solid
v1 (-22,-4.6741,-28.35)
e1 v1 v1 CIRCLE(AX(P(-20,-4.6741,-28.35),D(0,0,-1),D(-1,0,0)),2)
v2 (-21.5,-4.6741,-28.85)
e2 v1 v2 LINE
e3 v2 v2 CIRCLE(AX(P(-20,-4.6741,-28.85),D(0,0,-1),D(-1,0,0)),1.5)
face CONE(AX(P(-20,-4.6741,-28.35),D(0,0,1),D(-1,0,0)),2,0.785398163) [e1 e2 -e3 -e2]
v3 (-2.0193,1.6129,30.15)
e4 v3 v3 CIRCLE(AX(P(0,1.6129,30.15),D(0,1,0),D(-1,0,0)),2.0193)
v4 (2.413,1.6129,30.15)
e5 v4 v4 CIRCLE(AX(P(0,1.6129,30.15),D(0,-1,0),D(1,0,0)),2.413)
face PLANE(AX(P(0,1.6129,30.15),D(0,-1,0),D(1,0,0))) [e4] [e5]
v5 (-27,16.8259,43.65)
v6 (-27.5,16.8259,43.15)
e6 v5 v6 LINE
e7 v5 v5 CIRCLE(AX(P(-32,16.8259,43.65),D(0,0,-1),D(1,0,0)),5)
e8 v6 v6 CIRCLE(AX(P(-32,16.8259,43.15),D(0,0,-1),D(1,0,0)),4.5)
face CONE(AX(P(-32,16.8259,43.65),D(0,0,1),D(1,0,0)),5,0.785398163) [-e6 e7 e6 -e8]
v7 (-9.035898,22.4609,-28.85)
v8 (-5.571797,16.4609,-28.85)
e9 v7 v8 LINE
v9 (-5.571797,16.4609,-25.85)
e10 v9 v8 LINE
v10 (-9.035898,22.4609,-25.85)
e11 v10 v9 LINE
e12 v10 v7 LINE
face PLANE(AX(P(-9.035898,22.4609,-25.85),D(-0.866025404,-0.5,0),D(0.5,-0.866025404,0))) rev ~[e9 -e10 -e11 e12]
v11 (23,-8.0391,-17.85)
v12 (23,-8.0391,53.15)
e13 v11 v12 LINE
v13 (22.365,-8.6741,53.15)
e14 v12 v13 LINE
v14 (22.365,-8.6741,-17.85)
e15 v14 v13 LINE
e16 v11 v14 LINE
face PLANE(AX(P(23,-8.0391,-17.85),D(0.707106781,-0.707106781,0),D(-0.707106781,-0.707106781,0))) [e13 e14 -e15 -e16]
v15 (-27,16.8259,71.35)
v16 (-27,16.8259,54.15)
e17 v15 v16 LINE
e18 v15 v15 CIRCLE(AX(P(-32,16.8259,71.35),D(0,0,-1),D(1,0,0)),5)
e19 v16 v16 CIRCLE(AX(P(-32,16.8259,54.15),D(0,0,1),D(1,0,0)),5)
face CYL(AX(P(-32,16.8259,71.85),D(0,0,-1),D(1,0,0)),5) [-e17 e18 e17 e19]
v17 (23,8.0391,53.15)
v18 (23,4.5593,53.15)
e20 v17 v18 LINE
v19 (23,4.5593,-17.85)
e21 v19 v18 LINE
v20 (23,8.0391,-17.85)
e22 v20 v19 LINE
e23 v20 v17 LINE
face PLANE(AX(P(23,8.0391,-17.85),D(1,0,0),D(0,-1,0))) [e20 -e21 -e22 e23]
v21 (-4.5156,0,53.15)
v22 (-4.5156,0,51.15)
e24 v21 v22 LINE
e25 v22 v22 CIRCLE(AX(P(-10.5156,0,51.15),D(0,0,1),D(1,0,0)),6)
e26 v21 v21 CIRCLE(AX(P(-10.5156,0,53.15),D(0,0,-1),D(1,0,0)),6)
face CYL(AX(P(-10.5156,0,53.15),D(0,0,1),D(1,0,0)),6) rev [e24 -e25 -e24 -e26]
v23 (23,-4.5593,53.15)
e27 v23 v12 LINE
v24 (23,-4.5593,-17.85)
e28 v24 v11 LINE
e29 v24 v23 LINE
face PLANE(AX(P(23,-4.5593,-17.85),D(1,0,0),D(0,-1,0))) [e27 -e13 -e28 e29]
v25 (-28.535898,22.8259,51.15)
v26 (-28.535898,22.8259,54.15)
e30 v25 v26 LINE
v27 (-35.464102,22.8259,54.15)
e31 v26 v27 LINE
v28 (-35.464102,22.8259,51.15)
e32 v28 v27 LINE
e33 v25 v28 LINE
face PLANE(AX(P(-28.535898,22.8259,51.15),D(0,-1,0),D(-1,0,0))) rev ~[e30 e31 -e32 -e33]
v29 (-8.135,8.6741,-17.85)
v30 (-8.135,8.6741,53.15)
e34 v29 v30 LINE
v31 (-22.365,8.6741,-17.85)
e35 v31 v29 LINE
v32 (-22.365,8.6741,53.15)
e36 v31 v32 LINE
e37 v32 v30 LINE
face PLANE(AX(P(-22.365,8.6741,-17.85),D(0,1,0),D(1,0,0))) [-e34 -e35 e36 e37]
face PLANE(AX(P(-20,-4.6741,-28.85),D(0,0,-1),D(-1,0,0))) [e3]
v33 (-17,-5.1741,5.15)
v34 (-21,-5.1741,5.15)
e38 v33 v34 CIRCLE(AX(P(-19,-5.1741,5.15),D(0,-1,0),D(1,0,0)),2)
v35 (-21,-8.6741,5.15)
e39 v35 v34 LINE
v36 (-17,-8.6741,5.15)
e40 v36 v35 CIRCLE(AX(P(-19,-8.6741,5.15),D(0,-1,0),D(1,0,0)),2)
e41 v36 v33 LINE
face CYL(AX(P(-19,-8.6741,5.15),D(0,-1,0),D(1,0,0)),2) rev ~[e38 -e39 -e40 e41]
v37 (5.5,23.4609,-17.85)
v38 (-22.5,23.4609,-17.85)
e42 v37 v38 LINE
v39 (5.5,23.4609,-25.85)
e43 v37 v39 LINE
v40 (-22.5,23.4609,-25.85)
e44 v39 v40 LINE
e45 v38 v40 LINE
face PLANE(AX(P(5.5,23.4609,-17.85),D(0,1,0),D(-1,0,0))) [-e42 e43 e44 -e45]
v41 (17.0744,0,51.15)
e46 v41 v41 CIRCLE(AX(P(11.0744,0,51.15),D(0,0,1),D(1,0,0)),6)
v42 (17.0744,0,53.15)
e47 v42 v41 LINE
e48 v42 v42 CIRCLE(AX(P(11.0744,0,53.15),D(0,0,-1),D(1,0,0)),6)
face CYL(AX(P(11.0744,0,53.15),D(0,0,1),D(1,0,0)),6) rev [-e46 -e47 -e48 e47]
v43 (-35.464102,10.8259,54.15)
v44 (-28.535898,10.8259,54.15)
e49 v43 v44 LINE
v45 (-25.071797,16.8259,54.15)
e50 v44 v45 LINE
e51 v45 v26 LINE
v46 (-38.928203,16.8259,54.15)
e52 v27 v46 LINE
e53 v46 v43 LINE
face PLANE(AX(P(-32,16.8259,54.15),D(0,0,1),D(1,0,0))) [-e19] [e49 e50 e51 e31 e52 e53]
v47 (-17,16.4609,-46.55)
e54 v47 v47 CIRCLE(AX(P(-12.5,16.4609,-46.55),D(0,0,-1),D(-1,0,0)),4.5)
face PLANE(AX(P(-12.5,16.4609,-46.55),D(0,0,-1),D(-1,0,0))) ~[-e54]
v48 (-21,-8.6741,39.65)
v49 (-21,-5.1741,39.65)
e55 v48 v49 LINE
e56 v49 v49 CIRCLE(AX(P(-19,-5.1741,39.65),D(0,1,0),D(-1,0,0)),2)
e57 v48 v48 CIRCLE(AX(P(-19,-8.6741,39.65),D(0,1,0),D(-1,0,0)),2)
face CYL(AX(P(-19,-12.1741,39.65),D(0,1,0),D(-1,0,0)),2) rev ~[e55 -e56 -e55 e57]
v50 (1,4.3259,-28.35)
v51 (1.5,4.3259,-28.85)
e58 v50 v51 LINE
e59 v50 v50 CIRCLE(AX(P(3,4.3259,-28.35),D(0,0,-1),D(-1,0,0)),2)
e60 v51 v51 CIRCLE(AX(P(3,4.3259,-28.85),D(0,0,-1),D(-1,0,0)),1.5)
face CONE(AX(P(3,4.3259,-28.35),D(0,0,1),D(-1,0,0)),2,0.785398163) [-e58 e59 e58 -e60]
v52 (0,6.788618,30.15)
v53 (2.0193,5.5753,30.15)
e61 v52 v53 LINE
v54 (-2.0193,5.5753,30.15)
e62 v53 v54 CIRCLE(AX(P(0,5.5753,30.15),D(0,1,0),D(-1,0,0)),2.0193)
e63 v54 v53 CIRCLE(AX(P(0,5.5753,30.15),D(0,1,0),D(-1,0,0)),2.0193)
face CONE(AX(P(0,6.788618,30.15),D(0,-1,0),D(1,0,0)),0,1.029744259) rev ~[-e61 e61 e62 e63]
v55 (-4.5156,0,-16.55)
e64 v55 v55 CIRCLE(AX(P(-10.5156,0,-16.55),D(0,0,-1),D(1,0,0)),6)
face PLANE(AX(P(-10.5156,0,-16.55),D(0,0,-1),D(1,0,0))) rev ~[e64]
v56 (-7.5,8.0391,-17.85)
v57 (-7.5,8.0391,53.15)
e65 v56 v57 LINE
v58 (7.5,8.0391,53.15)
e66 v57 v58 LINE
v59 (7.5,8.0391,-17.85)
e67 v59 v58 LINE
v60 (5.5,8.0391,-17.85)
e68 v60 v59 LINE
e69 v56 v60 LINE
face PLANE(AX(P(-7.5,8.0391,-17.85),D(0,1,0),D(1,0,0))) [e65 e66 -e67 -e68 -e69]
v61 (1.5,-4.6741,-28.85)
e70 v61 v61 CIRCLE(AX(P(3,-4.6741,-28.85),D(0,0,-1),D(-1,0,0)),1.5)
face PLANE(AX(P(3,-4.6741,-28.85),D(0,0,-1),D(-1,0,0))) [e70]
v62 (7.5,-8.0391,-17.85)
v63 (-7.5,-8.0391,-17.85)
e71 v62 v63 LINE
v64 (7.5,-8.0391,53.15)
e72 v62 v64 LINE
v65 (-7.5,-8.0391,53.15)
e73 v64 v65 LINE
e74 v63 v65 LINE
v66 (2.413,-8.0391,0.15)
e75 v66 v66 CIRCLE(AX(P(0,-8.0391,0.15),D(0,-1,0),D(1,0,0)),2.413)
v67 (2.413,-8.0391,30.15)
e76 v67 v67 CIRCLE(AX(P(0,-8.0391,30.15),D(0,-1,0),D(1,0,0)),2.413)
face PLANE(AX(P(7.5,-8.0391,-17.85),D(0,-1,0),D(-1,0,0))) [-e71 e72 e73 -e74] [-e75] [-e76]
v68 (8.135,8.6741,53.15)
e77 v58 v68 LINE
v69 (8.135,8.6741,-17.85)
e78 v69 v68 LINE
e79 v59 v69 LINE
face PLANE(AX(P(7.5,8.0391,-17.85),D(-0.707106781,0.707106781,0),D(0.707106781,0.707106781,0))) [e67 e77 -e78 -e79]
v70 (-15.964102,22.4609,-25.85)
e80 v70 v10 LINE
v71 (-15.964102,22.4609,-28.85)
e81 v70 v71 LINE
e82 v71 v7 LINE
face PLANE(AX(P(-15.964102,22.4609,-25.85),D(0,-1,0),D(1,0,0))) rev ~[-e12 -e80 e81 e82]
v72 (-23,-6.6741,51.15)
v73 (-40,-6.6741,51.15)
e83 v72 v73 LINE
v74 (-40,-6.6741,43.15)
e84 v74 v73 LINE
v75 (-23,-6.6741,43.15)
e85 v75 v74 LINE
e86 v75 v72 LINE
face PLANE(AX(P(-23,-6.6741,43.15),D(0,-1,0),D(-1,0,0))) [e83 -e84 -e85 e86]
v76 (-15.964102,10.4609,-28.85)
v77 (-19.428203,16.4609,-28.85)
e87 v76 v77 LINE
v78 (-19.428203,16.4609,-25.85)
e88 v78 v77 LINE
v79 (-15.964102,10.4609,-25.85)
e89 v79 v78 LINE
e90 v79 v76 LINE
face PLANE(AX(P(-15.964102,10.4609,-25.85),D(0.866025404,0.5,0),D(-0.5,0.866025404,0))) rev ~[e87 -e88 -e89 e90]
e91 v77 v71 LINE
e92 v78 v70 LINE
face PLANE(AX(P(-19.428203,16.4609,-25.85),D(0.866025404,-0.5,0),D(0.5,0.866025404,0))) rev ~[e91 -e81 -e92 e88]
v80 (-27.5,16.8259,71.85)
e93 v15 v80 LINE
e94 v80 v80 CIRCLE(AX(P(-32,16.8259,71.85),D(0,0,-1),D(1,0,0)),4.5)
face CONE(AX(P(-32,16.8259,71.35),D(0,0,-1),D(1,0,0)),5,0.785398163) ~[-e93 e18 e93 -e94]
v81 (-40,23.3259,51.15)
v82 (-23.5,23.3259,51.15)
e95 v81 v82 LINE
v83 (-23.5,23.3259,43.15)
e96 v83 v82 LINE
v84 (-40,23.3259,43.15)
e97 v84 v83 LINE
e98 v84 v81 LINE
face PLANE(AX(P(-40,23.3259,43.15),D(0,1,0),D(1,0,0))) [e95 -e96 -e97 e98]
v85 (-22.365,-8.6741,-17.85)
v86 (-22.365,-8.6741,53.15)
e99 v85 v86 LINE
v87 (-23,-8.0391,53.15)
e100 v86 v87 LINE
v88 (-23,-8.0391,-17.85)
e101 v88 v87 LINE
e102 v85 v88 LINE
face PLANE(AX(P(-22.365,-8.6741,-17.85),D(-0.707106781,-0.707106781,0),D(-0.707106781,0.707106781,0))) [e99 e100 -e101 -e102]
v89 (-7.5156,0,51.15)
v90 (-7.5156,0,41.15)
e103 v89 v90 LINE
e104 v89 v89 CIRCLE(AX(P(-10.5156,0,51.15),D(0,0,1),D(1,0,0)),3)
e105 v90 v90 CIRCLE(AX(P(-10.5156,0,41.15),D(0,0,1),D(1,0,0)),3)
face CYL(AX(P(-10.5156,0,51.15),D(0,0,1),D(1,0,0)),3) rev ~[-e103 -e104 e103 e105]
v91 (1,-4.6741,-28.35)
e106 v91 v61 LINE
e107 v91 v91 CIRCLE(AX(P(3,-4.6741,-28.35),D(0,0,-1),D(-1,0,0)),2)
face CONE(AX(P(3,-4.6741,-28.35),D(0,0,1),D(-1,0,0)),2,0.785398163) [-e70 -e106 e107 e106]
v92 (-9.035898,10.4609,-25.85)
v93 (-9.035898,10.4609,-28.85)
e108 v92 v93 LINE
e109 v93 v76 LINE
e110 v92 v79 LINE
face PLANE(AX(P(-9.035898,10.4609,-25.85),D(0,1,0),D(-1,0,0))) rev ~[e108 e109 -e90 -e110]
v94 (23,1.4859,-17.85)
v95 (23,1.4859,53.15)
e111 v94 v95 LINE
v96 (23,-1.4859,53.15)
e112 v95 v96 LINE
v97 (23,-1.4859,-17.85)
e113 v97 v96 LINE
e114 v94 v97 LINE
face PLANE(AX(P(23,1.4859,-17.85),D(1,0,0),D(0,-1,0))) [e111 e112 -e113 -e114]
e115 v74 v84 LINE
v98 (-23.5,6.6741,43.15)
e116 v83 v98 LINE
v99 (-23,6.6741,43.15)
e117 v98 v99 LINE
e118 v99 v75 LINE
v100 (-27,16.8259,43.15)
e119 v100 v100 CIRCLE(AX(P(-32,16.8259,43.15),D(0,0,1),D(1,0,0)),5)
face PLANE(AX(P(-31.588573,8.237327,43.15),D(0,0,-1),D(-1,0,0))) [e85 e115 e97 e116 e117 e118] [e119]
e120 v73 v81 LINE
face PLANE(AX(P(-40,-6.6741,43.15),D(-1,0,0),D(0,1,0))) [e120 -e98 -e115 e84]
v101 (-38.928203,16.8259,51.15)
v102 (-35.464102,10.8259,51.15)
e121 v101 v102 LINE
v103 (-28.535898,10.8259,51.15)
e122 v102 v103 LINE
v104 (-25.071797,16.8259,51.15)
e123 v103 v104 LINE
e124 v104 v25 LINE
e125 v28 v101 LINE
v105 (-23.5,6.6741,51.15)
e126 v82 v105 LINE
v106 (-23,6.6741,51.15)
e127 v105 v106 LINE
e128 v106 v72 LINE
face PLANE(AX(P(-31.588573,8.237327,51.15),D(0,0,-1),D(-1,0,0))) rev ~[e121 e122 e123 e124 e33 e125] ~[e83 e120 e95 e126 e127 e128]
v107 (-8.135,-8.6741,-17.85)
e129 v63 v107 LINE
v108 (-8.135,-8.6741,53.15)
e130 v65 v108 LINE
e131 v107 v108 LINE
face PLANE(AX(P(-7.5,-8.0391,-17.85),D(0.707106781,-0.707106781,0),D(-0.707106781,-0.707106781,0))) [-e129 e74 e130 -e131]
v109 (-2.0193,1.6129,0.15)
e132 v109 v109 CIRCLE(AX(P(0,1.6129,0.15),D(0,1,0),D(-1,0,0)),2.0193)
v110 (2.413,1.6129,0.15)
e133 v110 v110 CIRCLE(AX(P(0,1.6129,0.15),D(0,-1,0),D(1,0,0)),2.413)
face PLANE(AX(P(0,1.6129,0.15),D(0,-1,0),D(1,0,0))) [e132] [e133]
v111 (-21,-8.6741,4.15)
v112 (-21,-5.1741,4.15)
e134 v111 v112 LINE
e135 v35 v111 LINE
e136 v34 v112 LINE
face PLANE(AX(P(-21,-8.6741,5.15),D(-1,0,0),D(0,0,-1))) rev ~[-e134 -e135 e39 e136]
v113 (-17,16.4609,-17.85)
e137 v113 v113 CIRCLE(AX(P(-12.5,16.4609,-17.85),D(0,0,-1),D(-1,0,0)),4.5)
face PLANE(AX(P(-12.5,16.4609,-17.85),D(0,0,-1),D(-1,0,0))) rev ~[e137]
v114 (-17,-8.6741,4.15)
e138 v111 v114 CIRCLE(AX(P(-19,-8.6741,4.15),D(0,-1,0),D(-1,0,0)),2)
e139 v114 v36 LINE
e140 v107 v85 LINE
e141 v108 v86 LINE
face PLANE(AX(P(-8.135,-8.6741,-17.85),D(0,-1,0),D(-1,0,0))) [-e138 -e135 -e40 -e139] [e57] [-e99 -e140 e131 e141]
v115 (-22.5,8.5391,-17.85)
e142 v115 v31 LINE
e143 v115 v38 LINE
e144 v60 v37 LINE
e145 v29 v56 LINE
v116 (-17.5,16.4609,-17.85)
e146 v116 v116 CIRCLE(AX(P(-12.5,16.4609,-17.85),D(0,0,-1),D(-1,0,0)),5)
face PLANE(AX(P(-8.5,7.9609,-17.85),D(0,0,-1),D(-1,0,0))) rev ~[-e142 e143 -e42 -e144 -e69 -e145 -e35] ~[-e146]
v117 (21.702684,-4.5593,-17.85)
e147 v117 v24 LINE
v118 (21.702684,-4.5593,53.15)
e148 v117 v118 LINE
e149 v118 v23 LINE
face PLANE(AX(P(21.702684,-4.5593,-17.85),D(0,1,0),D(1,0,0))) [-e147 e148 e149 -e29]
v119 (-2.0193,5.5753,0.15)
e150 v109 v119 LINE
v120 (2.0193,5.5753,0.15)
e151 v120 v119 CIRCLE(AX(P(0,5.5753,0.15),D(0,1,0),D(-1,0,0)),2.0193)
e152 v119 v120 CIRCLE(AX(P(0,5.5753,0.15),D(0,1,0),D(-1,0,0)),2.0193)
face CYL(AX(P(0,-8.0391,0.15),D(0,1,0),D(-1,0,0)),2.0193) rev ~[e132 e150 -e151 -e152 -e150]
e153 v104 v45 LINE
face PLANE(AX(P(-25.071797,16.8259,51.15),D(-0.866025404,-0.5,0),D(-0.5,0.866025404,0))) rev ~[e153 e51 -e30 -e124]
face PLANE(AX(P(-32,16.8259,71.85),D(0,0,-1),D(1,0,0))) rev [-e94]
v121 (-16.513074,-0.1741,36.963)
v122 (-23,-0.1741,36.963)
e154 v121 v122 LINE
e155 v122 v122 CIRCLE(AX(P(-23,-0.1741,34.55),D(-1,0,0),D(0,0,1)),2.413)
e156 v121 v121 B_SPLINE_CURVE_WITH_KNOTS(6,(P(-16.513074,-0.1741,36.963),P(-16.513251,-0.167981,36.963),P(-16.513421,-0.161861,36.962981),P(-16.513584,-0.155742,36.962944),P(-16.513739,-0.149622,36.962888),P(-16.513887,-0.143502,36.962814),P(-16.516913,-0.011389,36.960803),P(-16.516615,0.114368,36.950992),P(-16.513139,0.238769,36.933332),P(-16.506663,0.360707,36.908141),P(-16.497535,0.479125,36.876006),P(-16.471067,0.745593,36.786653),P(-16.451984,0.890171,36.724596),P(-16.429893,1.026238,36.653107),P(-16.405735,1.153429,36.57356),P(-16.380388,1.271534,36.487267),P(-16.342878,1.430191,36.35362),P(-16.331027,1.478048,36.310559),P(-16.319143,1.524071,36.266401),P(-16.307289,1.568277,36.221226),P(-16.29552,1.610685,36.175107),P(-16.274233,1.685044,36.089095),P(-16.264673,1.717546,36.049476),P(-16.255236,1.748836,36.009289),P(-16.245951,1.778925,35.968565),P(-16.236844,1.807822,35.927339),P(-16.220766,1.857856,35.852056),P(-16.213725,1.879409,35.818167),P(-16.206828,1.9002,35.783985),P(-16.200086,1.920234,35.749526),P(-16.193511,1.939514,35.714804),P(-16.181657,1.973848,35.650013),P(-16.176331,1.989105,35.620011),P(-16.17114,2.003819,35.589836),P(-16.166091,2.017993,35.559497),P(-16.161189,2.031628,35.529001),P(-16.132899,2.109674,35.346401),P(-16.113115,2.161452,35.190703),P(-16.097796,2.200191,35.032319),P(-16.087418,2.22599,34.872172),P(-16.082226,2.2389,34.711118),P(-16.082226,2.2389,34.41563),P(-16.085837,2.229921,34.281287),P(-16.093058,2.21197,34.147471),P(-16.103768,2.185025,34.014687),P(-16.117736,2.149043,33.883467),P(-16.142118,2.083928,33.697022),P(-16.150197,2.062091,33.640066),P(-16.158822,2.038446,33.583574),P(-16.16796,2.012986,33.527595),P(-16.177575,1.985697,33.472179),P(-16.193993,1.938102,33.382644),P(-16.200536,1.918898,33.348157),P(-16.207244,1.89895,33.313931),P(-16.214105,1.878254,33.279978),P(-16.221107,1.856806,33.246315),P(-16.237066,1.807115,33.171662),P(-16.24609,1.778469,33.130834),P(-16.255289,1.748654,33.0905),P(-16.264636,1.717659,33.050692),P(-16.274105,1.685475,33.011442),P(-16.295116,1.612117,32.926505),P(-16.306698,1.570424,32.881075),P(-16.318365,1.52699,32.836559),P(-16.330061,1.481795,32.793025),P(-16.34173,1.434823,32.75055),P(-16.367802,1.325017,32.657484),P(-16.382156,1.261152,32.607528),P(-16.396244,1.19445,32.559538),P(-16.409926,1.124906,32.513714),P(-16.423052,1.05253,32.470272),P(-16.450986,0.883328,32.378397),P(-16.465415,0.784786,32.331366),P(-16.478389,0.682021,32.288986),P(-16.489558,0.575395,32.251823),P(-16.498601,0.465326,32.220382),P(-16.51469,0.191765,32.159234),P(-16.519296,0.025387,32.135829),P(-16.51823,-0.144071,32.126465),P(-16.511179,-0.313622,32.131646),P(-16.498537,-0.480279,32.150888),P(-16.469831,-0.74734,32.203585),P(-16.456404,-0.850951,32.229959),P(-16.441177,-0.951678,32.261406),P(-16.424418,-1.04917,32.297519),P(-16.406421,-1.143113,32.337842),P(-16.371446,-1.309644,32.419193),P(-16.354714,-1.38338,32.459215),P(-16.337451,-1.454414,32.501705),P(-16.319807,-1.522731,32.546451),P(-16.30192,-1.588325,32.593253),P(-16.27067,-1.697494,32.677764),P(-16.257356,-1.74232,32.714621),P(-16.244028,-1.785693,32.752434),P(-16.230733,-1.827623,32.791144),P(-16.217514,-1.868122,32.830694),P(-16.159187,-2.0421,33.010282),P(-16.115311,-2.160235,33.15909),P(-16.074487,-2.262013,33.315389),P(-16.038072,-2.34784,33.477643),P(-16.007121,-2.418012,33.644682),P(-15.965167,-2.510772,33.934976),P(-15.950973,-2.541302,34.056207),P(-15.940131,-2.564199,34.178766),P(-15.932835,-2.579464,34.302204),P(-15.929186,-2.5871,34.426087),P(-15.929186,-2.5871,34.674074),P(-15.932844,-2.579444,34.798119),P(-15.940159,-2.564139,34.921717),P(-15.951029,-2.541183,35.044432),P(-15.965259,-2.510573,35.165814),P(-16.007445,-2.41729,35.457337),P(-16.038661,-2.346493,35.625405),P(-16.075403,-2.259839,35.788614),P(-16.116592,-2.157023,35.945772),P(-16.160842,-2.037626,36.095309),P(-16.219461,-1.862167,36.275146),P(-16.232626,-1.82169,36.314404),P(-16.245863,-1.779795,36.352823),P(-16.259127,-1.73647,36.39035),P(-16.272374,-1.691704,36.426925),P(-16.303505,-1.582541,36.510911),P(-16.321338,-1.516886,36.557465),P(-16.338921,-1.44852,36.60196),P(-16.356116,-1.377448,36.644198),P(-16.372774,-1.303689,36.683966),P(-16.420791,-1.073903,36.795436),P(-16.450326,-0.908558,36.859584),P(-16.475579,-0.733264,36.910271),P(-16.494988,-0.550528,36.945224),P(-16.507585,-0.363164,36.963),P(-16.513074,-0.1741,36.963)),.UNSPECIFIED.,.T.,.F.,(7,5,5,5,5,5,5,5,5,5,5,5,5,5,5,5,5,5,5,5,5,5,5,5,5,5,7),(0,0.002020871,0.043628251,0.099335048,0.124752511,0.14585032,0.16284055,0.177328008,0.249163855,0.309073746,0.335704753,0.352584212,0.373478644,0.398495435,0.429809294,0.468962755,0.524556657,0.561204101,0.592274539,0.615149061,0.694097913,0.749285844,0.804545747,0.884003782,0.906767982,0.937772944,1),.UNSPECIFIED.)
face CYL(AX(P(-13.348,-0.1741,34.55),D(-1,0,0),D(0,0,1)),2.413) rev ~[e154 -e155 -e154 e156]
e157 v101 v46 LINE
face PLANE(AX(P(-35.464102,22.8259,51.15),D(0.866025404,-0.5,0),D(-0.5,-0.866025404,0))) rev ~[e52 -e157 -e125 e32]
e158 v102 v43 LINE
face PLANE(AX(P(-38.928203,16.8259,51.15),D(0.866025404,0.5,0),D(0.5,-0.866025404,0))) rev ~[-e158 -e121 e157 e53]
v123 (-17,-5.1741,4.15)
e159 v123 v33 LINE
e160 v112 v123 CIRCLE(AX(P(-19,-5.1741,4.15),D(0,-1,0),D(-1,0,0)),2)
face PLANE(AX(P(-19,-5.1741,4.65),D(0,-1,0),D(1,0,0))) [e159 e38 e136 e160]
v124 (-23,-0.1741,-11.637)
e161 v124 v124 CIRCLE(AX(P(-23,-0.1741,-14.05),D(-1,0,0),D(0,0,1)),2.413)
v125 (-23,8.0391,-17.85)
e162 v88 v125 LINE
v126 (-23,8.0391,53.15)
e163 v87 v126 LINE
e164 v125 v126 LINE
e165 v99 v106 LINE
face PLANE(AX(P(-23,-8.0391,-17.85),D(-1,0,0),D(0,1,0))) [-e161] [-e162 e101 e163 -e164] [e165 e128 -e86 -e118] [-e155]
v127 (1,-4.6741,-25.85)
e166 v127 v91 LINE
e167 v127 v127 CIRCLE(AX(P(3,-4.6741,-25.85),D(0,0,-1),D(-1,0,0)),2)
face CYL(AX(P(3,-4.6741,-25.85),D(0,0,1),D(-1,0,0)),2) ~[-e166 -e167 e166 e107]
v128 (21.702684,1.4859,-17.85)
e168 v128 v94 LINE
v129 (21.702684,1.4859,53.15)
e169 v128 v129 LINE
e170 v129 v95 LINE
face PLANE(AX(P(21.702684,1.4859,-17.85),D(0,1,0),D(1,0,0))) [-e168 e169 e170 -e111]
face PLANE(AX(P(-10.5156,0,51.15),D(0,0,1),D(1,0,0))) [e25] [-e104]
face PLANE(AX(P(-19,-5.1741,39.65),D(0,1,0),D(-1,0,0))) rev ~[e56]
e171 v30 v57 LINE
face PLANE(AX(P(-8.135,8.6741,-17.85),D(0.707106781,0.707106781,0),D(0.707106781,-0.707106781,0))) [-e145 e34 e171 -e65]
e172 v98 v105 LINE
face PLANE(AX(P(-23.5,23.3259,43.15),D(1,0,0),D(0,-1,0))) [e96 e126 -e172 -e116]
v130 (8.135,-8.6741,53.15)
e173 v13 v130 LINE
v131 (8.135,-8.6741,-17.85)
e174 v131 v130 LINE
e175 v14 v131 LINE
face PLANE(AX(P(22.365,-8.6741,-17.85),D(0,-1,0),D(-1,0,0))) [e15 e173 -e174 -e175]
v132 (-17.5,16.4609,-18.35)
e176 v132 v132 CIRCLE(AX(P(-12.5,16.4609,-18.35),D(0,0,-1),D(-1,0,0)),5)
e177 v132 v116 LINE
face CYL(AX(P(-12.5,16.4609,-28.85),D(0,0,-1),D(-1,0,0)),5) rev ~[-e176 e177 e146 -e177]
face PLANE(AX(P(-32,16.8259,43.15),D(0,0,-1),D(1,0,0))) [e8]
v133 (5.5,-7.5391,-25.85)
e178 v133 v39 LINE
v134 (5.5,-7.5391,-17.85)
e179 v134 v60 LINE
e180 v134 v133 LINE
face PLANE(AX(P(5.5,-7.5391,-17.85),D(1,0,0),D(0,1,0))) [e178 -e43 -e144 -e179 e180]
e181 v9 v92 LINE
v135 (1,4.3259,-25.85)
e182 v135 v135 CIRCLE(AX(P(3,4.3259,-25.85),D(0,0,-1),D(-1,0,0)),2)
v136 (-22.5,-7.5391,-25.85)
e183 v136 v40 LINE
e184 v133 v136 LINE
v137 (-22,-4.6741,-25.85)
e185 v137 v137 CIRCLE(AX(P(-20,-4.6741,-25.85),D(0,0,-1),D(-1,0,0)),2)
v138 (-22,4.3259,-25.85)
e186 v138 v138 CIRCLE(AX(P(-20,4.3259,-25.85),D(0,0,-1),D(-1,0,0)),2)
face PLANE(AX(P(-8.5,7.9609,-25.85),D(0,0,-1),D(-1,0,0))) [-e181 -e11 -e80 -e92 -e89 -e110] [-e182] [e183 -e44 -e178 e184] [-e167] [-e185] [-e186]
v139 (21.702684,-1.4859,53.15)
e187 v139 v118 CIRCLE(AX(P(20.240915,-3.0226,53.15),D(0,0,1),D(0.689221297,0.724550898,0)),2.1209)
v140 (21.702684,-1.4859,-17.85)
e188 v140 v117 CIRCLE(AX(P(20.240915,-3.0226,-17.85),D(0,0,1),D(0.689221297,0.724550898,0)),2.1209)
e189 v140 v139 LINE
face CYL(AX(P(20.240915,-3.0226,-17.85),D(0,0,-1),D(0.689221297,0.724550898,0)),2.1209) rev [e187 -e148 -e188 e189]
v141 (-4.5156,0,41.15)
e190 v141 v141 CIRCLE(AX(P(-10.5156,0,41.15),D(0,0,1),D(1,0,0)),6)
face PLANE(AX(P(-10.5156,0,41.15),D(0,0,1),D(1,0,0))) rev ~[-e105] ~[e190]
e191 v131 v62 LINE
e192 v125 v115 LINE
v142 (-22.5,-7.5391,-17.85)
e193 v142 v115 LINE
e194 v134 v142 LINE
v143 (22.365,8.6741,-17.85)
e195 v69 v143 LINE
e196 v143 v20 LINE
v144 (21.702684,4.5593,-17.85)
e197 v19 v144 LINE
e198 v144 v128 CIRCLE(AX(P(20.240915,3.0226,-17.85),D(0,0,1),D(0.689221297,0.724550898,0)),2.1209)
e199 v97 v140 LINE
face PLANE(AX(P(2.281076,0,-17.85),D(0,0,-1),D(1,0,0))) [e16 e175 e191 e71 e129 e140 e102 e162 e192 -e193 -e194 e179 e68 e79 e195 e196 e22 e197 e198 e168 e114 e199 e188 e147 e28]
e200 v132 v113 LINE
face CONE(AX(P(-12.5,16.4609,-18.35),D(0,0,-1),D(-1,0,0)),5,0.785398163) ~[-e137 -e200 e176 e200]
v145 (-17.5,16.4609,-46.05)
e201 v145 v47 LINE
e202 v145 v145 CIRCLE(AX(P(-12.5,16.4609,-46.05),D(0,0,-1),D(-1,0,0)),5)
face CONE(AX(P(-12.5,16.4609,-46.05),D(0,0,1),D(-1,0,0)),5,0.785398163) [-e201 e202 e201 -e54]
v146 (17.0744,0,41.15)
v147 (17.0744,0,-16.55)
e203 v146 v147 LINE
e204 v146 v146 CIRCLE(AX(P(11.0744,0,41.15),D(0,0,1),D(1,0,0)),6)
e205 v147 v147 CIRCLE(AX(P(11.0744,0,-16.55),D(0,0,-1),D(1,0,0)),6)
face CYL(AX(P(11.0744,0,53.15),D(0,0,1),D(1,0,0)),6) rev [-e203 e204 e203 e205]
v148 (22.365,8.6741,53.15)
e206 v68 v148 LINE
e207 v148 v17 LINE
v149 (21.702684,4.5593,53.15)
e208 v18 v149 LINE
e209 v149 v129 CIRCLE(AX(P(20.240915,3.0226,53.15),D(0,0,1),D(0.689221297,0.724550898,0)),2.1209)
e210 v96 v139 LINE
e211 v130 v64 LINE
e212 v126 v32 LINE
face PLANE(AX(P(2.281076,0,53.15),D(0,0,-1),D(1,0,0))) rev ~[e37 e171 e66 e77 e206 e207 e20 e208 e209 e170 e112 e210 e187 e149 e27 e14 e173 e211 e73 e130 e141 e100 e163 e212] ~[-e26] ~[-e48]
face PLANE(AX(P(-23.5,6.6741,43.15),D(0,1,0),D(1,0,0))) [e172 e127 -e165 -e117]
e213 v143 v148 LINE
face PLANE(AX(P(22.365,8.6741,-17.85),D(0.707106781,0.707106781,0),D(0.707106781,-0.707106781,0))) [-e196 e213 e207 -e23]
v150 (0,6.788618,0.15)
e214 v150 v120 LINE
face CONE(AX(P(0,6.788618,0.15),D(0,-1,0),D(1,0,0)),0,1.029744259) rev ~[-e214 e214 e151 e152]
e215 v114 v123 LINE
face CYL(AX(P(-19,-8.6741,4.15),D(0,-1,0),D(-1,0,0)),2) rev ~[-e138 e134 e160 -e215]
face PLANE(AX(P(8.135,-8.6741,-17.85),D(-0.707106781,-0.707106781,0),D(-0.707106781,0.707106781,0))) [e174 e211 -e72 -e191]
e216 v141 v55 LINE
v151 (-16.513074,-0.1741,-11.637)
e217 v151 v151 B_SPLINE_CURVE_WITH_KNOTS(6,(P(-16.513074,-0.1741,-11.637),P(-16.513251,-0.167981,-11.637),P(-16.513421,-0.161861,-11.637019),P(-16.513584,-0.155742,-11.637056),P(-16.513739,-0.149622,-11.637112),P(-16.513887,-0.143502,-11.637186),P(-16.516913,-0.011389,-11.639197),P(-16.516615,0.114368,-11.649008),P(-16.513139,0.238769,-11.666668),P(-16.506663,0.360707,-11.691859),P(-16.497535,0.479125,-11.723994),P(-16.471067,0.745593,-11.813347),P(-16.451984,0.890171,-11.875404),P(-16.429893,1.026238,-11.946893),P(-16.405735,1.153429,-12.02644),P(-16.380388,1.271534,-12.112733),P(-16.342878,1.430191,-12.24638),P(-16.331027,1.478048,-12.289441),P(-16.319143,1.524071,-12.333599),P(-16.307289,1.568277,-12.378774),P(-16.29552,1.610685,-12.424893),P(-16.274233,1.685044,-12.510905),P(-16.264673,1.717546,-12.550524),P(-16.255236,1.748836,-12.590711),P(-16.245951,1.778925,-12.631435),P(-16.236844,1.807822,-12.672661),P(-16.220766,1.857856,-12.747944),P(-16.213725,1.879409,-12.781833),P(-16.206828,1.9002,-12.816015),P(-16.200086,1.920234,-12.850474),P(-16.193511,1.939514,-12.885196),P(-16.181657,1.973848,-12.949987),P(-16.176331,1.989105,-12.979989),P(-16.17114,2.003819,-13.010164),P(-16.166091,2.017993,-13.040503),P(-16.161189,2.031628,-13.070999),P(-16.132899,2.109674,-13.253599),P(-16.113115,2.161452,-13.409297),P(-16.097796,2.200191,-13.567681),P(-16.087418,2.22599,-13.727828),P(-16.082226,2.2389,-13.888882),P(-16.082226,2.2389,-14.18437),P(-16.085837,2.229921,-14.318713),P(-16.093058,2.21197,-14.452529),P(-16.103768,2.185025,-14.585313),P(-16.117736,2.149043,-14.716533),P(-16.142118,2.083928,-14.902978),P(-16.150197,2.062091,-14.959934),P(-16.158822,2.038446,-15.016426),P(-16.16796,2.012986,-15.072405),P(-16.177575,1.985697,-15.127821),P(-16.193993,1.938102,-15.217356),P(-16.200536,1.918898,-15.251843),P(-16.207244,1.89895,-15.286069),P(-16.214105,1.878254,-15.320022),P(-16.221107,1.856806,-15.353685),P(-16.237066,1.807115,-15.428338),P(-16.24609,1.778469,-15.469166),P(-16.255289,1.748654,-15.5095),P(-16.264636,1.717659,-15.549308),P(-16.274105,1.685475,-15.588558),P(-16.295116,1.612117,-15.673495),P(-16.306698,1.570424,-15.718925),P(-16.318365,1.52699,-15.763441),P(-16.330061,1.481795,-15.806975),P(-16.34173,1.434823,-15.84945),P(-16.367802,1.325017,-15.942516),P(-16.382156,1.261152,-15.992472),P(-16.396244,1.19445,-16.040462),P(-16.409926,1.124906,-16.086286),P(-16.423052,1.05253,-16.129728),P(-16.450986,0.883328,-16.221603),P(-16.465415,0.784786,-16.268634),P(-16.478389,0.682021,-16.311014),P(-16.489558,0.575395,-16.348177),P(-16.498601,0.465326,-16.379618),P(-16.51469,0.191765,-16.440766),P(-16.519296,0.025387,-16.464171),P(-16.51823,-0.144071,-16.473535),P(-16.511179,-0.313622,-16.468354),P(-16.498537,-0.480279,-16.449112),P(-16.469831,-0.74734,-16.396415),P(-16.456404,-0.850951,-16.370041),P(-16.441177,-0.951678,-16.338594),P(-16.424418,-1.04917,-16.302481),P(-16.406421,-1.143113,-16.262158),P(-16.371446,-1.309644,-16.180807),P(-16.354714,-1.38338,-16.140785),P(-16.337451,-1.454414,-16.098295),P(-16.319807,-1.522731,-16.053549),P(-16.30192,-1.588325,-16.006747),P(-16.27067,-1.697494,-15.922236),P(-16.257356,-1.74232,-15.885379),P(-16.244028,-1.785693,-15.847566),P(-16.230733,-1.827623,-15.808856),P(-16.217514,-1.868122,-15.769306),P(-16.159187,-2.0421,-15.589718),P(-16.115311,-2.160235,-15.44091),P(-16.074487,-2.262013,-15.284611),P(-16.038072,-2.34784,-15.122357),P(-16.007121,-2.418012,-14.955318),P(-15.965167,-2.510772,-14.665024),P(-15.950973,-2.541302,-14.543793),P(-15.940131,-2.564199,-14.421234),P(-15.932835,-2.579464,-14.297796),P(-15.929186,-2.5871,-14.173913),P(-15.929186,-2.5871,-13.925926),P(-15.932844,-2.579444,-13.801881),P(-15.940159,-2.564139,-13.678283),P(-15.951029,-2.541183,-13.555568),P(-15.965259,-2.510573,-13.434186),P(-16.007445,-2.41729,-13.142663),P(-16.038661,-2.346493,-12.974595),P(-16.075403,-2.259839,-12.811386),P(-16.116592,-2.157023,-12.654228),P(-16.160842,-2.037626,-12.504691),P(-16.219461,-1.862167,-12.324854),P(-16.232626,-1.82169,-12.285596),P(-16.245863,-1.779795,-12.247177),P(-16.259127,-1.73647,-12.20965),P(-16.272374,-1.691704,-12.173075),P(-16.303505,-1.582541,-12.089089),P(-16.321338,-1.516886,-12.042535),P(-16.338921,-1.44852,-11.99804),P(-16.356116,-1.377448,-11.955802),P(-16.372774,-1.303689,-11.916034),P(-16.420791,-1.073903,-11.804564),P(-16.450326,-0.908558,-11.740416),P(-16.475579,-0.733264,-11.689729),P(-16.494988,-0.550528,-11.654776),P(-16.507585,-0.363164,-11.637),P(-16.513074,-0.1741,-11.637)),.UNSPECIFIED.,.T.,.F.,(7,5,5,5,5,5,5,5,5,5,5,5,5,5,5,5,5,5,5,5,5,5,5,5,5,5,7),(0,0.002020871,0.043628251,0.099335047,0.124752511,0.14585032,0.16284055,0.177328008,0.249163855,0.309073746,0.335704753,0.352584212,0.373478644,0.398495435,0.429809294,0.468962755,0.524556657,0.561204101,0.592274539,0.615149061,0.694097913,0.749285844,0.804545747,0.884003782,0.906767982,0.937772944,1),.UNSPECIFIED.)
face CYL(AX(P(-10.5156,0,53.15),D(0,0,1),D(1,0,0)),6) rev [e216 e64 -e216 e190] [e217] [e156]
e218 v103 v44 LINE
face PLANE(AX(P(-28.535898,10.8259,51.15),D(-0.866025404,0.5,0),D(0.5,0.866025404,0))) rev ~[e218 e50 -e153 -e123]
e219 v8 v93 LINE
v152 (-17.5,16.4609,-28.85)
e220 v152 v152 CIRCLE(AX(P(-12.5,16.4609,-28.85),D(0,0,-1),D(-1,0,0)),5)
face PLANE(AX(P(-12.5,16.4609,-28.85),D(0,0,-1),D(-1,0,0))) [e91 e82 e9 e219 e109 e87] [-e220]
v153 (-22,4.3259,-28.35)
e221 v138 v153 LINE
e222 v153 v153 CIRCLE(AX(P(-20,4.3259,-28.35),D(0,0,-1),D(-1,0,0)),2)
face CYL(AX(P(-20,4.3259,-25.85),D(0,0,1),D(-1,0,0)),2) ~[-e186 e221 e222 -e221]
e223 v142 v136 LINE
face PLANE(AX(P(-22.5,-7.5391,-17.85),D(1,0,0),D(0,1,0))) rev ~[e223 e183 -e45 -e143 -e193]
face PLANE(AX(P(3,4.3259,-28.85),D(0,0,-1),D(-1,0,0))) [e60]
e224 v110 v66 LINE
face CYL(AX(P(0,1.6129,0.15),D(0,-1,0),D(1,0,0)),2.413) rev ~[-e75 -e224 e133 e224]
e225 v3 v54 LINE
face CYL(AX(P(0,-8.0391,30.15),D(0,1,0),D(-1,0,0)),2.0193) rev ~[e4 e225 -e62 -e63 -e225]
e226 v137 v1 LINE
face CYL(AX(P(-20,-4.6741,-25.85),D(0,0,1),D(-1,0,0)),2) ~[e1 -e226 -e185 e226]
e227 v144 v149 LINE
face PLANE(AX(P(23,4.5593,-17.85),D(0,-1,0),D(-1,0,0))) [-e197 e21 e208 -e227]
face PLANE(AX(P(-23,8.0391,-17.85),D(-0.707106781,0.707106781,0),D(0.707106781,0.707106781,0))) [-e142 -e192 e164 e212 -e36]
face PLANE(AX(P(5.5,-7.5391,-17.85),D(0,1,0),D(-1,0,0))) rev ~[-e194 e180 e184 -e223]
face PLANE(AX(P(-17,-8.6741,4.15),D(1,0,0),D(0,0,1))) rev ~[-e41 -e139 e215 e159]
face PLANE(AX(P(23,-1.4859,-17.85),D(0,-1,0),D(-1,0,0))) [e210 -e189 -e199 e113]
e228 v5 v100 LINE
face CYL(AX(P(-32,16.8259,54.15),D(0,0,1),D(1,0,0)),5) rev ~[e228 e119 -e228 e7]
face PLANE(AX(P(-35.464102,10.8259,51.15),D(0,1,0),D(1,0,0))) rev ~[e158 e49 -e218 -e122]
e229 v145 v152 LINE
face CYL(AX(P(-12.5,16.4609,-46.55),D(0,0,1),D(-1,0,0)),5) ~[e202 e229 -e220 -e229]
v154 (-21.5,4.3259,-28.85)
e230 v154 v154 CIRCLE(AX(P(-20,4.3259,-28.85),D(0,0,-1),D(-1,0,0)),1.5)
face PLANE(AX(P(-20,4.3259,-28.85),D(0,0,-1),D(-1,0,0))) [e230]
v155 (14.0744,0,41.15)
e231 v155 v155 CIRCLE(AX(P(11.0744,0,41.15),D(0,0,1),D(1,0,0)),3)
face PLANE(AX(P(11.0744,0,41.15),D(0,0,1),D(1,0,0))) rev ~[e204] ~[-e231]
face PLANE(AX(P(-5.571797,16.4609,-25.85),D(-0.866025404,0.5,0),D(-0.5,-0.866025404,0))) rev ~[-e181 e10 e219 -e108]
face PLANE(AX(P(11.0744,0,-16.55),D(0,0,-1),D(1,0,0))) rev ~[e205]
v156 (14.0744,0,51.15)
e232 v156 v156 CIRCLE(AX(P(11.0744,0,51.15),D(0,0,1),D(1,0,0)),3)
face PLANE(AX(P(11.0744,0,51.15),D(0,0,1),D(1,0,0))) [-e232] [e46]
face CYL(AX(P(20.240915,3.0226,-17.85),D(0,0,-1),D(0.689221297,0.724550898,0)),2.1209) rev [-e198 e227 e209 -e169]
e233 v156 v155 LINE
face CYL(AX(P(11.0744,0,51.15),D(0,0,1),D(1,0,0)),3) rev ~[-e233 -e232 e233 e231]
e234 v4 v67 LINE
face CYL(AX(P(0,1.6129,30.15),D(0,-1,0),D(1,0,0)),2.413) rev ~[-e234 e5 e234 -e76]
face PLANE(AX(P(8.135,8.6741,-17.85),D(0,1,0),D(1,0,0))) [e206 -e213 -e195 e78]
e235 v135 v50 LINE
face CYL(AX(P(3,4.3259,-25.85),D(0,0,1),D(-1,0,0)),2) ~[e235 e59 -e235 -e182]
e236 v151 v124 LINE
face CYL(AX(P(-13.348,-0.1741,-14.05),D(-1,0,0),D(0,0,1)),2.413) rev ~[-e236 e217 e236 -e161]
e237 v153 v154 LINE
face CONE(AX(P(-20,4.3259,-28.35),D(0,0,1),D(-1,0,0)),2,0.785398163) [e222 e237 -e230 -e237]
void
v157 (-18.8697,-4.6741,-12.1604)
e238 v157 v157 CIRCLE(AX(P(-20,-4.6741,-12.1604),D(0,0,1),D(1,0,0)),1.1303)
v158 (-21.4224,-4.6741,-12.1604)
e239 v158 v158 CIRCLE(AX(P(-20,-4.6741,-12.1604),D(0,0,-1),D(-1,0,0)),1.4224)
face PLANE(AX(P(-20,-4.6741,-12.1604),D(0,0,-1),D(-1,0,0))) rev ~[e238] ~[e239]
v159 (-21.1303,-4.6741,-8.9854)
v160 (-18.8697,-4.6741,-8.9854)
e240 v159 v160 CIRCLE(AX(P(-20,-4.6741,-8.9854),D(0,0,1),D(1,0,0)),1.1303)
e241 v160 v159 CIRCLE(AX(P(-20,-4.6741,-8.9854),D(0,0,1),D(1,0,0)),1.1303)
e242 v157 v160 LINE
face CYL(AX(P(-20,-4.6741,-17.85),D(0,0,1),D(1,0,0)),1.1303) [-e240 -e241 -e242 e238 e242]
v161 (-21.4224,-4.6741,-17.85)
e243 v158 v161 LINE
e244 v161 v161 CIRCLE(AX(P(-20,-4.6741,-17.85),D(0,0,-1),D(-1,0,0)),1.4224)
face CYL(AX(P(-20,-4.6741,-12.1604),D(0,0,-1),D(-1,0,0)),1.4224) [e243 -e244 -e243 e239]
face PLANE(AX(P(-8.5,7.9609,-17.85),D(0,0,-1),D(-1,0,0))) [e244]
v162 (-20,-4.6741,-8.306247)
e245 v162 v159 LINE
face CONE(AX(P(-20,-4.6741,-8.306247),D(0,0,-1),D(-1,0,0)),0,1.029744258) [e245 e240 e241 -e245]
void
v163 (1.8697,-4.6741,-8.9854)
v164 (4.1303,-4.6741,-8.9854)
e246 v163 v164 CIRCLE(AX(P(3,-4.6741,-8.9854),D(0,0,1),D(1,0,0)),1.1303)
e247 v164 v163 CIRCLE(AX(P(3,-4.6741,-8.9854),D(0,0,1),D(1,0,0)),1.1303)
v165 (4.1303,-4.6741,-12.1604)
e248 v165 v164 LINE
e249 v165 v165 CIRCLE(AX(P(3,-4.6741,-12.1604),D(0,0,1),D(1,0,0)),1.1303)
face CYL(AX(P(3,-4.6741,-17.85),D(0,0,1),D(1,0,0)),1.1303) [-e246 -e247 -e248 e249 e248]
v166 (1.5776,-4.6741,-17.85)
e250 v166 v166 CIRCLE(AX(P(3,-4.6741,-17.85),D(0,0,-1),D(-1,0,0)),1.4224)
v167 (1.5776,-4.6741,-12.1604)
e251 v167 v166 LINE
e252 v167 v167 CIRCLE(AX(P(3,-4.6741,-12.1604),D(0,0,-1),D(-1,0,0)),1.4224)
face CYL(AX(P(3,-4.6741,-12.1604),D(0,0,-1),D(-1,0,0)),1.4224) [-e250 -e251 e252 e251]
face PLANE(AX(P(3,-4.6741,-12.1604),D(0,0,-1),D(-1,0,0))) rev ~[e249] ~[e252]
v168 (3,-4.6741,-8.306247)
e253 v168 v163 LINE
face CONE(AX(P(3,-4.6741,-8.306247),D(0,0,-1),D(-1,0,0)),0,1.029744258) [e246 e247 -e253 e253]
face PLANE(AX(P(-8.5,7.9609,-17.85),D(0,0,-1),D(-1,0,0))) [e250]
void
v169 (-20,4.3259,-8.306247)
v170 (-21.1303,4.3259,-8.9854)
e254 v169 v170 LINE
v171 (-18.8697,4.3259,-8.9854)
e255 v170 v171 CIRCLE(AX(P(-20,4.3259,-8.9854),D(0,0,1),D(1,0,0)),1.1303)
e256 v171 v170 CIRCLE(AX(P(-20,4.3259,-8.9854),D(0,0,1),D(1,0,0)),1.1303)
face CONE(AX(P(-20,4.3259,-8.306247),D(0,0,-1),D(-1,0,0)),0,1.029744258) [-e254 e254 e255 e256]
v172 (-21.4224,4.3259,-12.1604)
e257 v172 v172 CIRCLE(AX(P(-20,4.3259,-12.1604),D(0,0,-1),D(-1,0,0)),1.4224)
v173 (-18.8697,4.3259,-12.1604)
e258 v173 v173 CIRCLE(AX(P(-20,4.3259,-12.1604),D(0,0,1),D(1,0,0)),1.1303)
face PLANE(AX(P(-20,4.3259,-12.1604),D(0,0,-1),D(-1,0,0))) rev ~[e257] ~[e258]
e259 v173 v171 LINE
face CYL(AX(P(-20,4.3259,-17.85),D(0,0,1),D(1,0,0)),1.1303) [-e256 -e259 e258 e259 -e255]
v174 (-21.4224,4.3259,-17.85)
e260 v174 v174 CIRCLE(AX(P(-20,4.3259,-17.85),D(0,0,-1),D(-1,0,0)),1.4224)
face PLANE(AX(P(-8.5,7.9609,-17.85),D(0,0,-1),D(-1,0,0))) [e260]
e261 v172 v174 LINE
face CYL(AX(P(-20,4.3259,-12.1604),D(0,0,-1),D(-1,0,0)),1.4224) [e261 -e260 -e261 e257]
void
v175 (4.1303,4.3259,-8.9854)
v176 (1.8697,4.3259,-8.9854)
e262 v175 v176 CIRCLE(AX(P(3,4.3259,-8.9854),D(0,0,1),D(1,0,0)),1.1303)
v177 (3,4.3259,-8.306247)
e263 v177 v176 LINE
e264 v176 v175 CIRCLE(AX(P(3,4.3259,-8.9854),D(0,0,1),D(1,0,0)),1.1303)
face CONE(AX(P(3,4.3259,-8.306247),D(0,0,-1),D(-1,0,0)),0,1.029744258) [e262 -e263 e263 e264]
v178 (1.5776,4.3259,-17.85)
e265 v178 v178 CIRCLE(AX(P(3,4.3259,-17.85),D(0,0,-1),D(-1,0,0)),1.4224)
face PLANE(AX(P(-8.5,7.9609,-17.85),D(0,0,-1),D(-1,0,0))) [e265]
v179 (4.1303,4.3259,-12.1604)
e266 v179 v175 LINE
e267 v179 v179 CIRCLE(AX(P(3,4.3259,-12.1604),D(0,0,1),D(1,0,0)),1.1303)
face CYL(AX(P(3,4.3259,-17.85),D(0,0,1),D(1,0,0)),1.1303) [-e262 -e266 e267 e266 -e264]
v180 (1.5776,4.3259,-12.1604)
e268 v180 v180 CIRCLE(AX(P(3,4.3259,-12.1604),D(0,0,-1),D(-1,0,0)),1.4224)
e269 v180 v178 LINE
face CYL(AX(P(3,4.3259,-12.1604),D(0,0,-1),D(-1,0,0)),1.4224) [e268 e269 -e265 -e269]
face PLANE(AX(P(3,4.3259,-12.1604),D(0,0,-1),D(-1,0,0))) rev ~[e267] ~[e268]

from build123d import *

# Parameters (mm, degrees)
BASE_EXTRUDE_START               = -71
BASE_EXTRUDE_DEPTH               = 71
SKETCH2_R                        = 6
CUT_EXTRUDE1_DEPTH               = 69.7
SKETCH4_R                        = 6
BOSS_EXTRUDE1_DEPTH              = 10
CUT_EXTRUDE3_REACH               = 75.248
SKETCH19_R                       = 3
F_10_32_TAPPED_HOLE1_D           = 4.0386
F_10_32_TAPPED_HOLE1_DEPTH       = 13.6144
F_10_32_TAPPED_HOLE1_CBORE_D     = 4.826
F_10_32_TAPPED_HOLE1_CBORE_DEPTH = 9.652
F_10_32_TAPPED_HOLE1_TIP         = 1.213317848
F_4_40_TAPPED_HOLE1_D            = 2.2606
F_4_40_TAPPED_HOLE1_DEPTH        = 8.8646
F_4_40_TAPPED_HOLE1_CBORE_D      = 2.8448
F_4_40_TAPPED_HOLE1_CBORE_DEPTH  = 5.6896
F_4_40_TAPPED_HOLE1_TIP          = 0.679152758
HOLE1_D                          = 4
HOLE1_DEPTH                      = 3.5
CUT_EXTRUDE4_DEPTH               = 3.5
F_10_32_TAPPED_HOLE2_D           = 4.0386
F_10_32_TAPPED_HOLE2_DEPTH       = 13.6144
F_10_32_TAPPED_HOLE2_CBORE_D     = 4.826
F_10_32_TAPPED_HOLE2_CBORE_DEPTH = 9.652
F_10_32_TAPPED_HOLE2_TIP         = 1.213317848
SKETCH30_W                       = 28
SKETCH30_H                       = 31
BOSS_EXTRUDE2_DEPTH              = 8
BOSS_EXTRUDE3_DEPTH              = 3
SKETCH35_R                       = 2
BOSS_EXTRUDE5_DEPTH              = 3
CHAMFER2_SIZE                    = 0.5
BOSS_EXTRUDE6_DEPTH              = 8
BOSS_EXTRUDE7_DEPTH              = 3
CUT_EXTRUDE7_REACH               = 97.076
SKETCH38_R                       = 5
CUT_EXTRUDE8_REACH               = 112.864
SKETCH46_R                       = 5
CHAMFER3_SIZE                    = 0.5


with BuildPart() as part:
    # Sketch1 → Base-Extrude (new body)
    with BuildSketch(Plane(origin=(0, 0, 53.15), x_dir=(-1, 0, 0), z_dir=(0, 0, 1)).offset(BASE_EXTRUDE_START)):
        with BuildLine():
            Line((22.365, 8.6741), (23, 8.0391))
            Line((23, 8.0391), (23, -8.0391))
            Line((23, -8.0391), (22.365, -8.6741))
            Line((22.365, -8.6741), (8.135, -8.6741))
            Line((8.135, -8.6741), (7.5, -8.0391))
            Line((7.5, -8.0391), (-7.5, -8.0391))
            Line((-7.5, -8.0391), (-8.135, -8.6741))
            Line((-8.135, -8.6741), (-22.365, -8.6741))
            Line((-22.365, -8.6741), (-23, -8.0391))
            Line((-23, -8.0391), (-23, -4.5593))
            Line((-23, -4.5593), (-21.70268423, -4.5593))
            ThreePointArc((-21.70268423, -4.5593), (-18.120014782, -3.0226), (-21.70268423, -1.4859))
            Line((-21.70268423, -1.4859), (-23, -1.4859))
            Line((-23, -1.4859), (-23, 1.4859))
            Line((-23, 1.4859), (-21.70268423, 1.4859))
            ThreePointArc((-21.70268423, 1.4859), (-18.120014782, 3.0226), (-21.70268423, 4.5593))
            Line((-21.70268423, 4.5593), (-23, 4.5593))
            Line((-23, 4.5593), (-23, 8.0391))
            Line((-23, 8.0391), (-22.365, 8.6741))
            Line((-22.365, 8.6741), (-8.135, 8.6741))
            Line((-8.135, 8.6741), (-7.5, 8.0391))
            Line((-7.5, 8.0391), (7.5, 8.0391))
            Line((7.5, 8.0391), (8.135, 8.6741))
            Line((8.135, 8.6741), (22.365, 8.6741))
        make_face()
    extrude(amount=BASE_EXTRUDE_DEPTH)

    # Sketch2 → Cut-Extrude1 (cut)
    with BuildSketch(Plane(origin=(0, 0, 53.15), x_dir=(-1, 0, 0), z_dir=(0, 0, -1))):
        with Locations(Location((-11.0744, 0, 0), (0, 0, 180))):
            Circle(SKETCH2_R)
        with Locations(Location((10.5156, 0, 0), (0, 0, 180))):
            Circle(SKETCH2_R)
    extrude(amount=CUT_EXTRUDE1_DEPTH, mode=Mode.SUBTRACT)

    # Sketch4 → Boss-Extrude1 (add)
    with BuildSketch(Plane.XY.offset(51.15)):
        with Locations((11.0744, 0)):
            Circle(SKETCH4_R)
        with Locations((-10.5156, 0)):
            Circle(SKETCH4_R)
    extrude(amount=-BOSS_EXTRUDE1_DEPTH)

    # Sketch19 → Cut-Extrude3 (cut, up to next)
    with BuildSketch(Plane.XY.offset(51.15), mode=Mode.PRIVATE) as cut_extrude3_sk1:
        with Locations((11.0744, 0)):
            Circle(SKETCH19_R)
    cut_extrude3_tool1 = extrude(cut_extrude3_sk1.sketch, amount=-CUT_EXTRUDE3_REACH, mode=Mode.PRIVATE) & part.part
    # Sketch19 → Cut-Extrude3 (cut, up to next)
    with BuildSketch(Plane.XY.offset(51.15), mode=Mode.PRIVATE) as cut_extrude3_sk2:
        with Locations((-10.5156, 0)):
            Circle(SKETCH19_R)
    cut_extrude3_tool2 = extrude(cut_extrude3_sk2.sketch, amount=-CUT_EXTRUDE3_REACH, mode=Mode.PRIVATE) & part.part
    add(cut_extrude3_tool1.solids().sort_by_distance((11.0744, 0, 51.15))[0], mode=Mode.SUBTRACT)
    add(cut_extrude3_tool2.solids().sort_by_distance((-10.5156, 0, 51.15))[0], mode=Mode.SUBTRACT)

    # #10-32 Tapped Hole1
    with Locations(Plane.XZ.offset(8.0391)):
        with Locations((0, 30.15), (0, 0.15)):
            CounterBoreHole(F_10_32_TAPPED_HOLE1_D / 2, F_10_32_TAPPED_HOLE1_CBORE_D / 2, F_10_32_TAPPED_HOLE1_CBORE_DEPTH, depth=F_10_32_TAPPED_HOLE1_DEPTH)
            with Locations((0, 0, -(F_10_32_TAPPED_HOLE1_DEPTH + F_10_32_TAPPED_HOLE1_TIP / 2))):  # 118° drill point
                Cone(0, F_10_32_TAPPED_HOLE1_D / 2, F_10_32_TAPPED_HOLE1_TIP, mode=Mode.SUBTRACT)

    # #4-40 Tapped Hole1
    with Locations(Plane(origin=(0, 0, -17.85), x_dir=(-1, 0, 0), z_dir=(0, 0, -1))):
        with Locations((20, -4.6741), (20, 4.3259), (-3, -4.6741), (-3, 4.3259)):
            CounterBoreHole(F_4_40_TAPPED_HOLE1_D / 2, F_4_40_TAPPED_HOLE1_CBORE_D / 2, F_4_40_TAPPED_HOLE1_CBORE_DEPTH, depth=F_4_40_TAPPED_HOLE1_DEPTH)
            with Locations((0, 0, -(F_4_40_TAPPED_HOLE1_DEPTH + F_4_40_TAPPED_HOLE1_TIP / 2))):  # 118° drill point
                Cone(0, F_4_40_TAPPED_HOLE1_D / 2, F_4_40_TAPPED_HOLE1_TIP, mode=Mode.SUBTRACT)

    # Hole1
    with Locations(Plane.XZ.offset(8.6741)):
        with Locations((-19, 39.65)):
            Hole(HOLE1_D / 2, depth=HOLE1_DEPTH)

    # Sketch27 → Cut-Extrude4 (cut)
    with BuildSketch(Plane.XZ.offset(8.6741)):
        with BuildLine():
            Line((-21, 5.15), (-21, 4.15))
            ThreePointArc((-21, 4.15), (-19, 2.15), (-17, 4.15))
            Line((-17, 4.15), (-17, 5.15))
            ThreePointArc((-17, 5.15), (-19, 7.15), (-21, 5.15))
        make_face()
    extrude(amount=-CUT_EXTRUDE4_DEPTH, mode=Mode.SUBTRACT)

    # #10-32 Tapped Hole2
    with Locations(Plane.ZY.offset(23)):
        with Locations((34.55, -0.1741), (-14.05, -0.1741)):
            CounterBoreHole(F_10_32_TAPPED_HOLE2_D / 2, F_10_32_TAPPED_HOLE2_CBORE_D / 2, F_10_32_TAPPED_HOLE2_CBORE_DEPTH, depth=F_10_32_TAPPED_HOLE2_DEPTH)
            with Locations((0, 0, -(F_10_32_TAPPED_HOLE2_DEPTH + F_10_32_TAPPED_HOLE2_TIP / 2))):  # 118° drill point
                Cone(0, F_10_32_TAPPED_HOLE2_D / 2, F_10_32_TAPPED_HOLE2_TIP, mode=Mode.SUBTRACT)

    # Sketch30 → Boss-Extrude2 (add)
    with BuildSketch(Plane(origin=(0, 0, -17.85), x_dir=(-1, 0, 0), z_dir=(0, 0, -1))):
        with Locations((8.5, 7.9609)):
            Rectangle(SKETCH30_W, SKETCH30_H)
    extrude(amount=BOSS_EXTRUDE2_DEPTH)

    # Sketch31 → Boss-Extrude3 (add)
    with BuildSketch(Plane(origin=(0, 0, -25.85), x_dir=(-1, 0, 0), z_dir=(0, 0, -1))):
        Polygon((19.42820323, 16.4609), (15.964101615, 22.4609), (9.035898385, 22.4609), (5.57179677, 16.4609), (9.035898385, 10.4609), (15.964101615, 10.4609), align=None)
    extrude(amount=BOSS_EXTRUDE3_DEPTH)

    # Sketch35 → Boss-Extrude5 (add)
    with BuildSketch(Plane(origin=(0, 0, -25.85), x_dir=(-1, 0, 0), z_dir=(0, 0, -1))):
        with Locations((20, 4.3259)):
            Circle(SKETCH35_R)
        with Locations((-3, 4.3259)):
            Circle(SKETCH35_R)
        with Locations((-3, -4.6741)):
            Circle(SKETCH35_R)
        with Locations((20, -4.6741)):
            Circle(SKETCH35_R)
    extrude(amount=BOSS_EXTRUDE5_DEPTH)

    # Chamfer2
    chamfer2_edges = [part.edges().sort_by_distance(p)[0] for p in [
        (-18, 4.3259, -28.85),
        (5, 4.3259, -28.85),
        (5, -4.6741, -28.85),
        (-18, -4.6741, -28.85),
    ]]
    chamfer(chamfer2_edges, length=CHAMFER2_SIZE)

    # Sketch36 → Boss-Extrude6 (add)
    with BuildSketch(Plane.XY.offset(43.15)):
        Polygon((-23.5, 23.3259), (-23.5, 6.6741), (-23, 6.6741), (-23, -6.6741), (-40, -6.6741), (-40, 23.3259), align=None)
    extrude(amount=BOSS_EXTRUDE6_DEPTH)

    # Sketch37 → Boss-Extrude7 (add)
    with BuildSketch(Plane.XY.offset(51.15)):
        Polygon((-28.535898385, 22.8259), (-35.464101615, 22.8259), (-38.92820323, 16.8259), (-35.464101615, 10.8259), (-28.535898385, 10.8259), (-25.07179677, 16.8259), align=None)
    extrude(amount=BOSS_EXTRUDE7_DEPTH)

    # Sketch38 → Cut-Extrude7 (cut, up to next)
    with BuildSketch(Plane.XY.offset(54.15), mode=Mode.PRIVATE) as cut_extrude7_sk1:
        with Locations((-32, 16.8259)):
            Circle(SKETCH38_R)
    cut_extrude7_tool1 = extrude(cut_extrude7_sk1.sketch, amount=-CUT_EXTRUDE7_REACH, mode=Mode.PRIVATE) & part.part
    add(cut_extrude7_tool1.solids().sort_by_distance((-32, 16.8259, 54.15))[0], mode=Mode.SUBTRACT)

    # Sketch44 → Boss-Revolve1 (revolve)
    with BuildSketch(Plane(origin=(0, 16.8259, 0), x_dir=(-1, 0, 0), z_dir=(0, 1, 0)), mode=Mode.PRIVATE) as boss_revolve1_sk:
        Polygon((32, 71.85), (37, 71.85), (37, 43.65), (36.5, 43.15), (32, 43.15), align=None)
    revolve(boss_revolve1_sk.sketch.rotate(Axis((-32, 16.8259, 54.15), (0, 0, -1)), 180), axis=Axis((-32, 16.8259, 54.15), (0, 0, -1)))

    # Sketch46 → Cut-Extrude8 (cut, up to next)
    with BuildSketch(Plane(origin=(0, 0, -28.85), x_dir=(-1, 0, 0), z_dir=(0, 0, -1)), mode=Mode.PRIVATE) as cut_extrude8_sk1:
        with Locations((12.5, 16.4609)):
            Circle(SKETCH46_R)
    cut_extrude8_tool1 = extrude(cut_extrude8_sk1.sketch, amount=-CUT_EXTRUDE8_REACH, mode=Mode.PRIVATE) & part.part
    add(cut_extrude8_tool1.solids().sort_by_distance((-12.5, 16.4609, -28.85))[0], mode=Mode.SUBTRACT)

    # Sketch47 → Boss-Revolve2 (revolve)
    with BuildSketch(Plane(origin=(0, 16.4609, 0), x_dir=(-1, 0, 0), z_dir=(0, 1, 0))):
        Polygon((17, -17.85), (12.5, -17.85), (12.5, -46.55), (17.5, -46.55), (17.5, -18.35), align=None)
    revolve(axis=Axis((-12.5, 16.4609, -17.85), (0, 0, -1)))

    # Chamfer3
    chamfer3_edges = [part.edges().sort_by_distance(p)[0] for p in [
        (-37, 16.8259, 71.85),
        (-7.5, 16.4609, -46.55),
    ]]
    chamfer(chamfer3_edges, length=CHAMFER3_SIZE)


solid = part.part
